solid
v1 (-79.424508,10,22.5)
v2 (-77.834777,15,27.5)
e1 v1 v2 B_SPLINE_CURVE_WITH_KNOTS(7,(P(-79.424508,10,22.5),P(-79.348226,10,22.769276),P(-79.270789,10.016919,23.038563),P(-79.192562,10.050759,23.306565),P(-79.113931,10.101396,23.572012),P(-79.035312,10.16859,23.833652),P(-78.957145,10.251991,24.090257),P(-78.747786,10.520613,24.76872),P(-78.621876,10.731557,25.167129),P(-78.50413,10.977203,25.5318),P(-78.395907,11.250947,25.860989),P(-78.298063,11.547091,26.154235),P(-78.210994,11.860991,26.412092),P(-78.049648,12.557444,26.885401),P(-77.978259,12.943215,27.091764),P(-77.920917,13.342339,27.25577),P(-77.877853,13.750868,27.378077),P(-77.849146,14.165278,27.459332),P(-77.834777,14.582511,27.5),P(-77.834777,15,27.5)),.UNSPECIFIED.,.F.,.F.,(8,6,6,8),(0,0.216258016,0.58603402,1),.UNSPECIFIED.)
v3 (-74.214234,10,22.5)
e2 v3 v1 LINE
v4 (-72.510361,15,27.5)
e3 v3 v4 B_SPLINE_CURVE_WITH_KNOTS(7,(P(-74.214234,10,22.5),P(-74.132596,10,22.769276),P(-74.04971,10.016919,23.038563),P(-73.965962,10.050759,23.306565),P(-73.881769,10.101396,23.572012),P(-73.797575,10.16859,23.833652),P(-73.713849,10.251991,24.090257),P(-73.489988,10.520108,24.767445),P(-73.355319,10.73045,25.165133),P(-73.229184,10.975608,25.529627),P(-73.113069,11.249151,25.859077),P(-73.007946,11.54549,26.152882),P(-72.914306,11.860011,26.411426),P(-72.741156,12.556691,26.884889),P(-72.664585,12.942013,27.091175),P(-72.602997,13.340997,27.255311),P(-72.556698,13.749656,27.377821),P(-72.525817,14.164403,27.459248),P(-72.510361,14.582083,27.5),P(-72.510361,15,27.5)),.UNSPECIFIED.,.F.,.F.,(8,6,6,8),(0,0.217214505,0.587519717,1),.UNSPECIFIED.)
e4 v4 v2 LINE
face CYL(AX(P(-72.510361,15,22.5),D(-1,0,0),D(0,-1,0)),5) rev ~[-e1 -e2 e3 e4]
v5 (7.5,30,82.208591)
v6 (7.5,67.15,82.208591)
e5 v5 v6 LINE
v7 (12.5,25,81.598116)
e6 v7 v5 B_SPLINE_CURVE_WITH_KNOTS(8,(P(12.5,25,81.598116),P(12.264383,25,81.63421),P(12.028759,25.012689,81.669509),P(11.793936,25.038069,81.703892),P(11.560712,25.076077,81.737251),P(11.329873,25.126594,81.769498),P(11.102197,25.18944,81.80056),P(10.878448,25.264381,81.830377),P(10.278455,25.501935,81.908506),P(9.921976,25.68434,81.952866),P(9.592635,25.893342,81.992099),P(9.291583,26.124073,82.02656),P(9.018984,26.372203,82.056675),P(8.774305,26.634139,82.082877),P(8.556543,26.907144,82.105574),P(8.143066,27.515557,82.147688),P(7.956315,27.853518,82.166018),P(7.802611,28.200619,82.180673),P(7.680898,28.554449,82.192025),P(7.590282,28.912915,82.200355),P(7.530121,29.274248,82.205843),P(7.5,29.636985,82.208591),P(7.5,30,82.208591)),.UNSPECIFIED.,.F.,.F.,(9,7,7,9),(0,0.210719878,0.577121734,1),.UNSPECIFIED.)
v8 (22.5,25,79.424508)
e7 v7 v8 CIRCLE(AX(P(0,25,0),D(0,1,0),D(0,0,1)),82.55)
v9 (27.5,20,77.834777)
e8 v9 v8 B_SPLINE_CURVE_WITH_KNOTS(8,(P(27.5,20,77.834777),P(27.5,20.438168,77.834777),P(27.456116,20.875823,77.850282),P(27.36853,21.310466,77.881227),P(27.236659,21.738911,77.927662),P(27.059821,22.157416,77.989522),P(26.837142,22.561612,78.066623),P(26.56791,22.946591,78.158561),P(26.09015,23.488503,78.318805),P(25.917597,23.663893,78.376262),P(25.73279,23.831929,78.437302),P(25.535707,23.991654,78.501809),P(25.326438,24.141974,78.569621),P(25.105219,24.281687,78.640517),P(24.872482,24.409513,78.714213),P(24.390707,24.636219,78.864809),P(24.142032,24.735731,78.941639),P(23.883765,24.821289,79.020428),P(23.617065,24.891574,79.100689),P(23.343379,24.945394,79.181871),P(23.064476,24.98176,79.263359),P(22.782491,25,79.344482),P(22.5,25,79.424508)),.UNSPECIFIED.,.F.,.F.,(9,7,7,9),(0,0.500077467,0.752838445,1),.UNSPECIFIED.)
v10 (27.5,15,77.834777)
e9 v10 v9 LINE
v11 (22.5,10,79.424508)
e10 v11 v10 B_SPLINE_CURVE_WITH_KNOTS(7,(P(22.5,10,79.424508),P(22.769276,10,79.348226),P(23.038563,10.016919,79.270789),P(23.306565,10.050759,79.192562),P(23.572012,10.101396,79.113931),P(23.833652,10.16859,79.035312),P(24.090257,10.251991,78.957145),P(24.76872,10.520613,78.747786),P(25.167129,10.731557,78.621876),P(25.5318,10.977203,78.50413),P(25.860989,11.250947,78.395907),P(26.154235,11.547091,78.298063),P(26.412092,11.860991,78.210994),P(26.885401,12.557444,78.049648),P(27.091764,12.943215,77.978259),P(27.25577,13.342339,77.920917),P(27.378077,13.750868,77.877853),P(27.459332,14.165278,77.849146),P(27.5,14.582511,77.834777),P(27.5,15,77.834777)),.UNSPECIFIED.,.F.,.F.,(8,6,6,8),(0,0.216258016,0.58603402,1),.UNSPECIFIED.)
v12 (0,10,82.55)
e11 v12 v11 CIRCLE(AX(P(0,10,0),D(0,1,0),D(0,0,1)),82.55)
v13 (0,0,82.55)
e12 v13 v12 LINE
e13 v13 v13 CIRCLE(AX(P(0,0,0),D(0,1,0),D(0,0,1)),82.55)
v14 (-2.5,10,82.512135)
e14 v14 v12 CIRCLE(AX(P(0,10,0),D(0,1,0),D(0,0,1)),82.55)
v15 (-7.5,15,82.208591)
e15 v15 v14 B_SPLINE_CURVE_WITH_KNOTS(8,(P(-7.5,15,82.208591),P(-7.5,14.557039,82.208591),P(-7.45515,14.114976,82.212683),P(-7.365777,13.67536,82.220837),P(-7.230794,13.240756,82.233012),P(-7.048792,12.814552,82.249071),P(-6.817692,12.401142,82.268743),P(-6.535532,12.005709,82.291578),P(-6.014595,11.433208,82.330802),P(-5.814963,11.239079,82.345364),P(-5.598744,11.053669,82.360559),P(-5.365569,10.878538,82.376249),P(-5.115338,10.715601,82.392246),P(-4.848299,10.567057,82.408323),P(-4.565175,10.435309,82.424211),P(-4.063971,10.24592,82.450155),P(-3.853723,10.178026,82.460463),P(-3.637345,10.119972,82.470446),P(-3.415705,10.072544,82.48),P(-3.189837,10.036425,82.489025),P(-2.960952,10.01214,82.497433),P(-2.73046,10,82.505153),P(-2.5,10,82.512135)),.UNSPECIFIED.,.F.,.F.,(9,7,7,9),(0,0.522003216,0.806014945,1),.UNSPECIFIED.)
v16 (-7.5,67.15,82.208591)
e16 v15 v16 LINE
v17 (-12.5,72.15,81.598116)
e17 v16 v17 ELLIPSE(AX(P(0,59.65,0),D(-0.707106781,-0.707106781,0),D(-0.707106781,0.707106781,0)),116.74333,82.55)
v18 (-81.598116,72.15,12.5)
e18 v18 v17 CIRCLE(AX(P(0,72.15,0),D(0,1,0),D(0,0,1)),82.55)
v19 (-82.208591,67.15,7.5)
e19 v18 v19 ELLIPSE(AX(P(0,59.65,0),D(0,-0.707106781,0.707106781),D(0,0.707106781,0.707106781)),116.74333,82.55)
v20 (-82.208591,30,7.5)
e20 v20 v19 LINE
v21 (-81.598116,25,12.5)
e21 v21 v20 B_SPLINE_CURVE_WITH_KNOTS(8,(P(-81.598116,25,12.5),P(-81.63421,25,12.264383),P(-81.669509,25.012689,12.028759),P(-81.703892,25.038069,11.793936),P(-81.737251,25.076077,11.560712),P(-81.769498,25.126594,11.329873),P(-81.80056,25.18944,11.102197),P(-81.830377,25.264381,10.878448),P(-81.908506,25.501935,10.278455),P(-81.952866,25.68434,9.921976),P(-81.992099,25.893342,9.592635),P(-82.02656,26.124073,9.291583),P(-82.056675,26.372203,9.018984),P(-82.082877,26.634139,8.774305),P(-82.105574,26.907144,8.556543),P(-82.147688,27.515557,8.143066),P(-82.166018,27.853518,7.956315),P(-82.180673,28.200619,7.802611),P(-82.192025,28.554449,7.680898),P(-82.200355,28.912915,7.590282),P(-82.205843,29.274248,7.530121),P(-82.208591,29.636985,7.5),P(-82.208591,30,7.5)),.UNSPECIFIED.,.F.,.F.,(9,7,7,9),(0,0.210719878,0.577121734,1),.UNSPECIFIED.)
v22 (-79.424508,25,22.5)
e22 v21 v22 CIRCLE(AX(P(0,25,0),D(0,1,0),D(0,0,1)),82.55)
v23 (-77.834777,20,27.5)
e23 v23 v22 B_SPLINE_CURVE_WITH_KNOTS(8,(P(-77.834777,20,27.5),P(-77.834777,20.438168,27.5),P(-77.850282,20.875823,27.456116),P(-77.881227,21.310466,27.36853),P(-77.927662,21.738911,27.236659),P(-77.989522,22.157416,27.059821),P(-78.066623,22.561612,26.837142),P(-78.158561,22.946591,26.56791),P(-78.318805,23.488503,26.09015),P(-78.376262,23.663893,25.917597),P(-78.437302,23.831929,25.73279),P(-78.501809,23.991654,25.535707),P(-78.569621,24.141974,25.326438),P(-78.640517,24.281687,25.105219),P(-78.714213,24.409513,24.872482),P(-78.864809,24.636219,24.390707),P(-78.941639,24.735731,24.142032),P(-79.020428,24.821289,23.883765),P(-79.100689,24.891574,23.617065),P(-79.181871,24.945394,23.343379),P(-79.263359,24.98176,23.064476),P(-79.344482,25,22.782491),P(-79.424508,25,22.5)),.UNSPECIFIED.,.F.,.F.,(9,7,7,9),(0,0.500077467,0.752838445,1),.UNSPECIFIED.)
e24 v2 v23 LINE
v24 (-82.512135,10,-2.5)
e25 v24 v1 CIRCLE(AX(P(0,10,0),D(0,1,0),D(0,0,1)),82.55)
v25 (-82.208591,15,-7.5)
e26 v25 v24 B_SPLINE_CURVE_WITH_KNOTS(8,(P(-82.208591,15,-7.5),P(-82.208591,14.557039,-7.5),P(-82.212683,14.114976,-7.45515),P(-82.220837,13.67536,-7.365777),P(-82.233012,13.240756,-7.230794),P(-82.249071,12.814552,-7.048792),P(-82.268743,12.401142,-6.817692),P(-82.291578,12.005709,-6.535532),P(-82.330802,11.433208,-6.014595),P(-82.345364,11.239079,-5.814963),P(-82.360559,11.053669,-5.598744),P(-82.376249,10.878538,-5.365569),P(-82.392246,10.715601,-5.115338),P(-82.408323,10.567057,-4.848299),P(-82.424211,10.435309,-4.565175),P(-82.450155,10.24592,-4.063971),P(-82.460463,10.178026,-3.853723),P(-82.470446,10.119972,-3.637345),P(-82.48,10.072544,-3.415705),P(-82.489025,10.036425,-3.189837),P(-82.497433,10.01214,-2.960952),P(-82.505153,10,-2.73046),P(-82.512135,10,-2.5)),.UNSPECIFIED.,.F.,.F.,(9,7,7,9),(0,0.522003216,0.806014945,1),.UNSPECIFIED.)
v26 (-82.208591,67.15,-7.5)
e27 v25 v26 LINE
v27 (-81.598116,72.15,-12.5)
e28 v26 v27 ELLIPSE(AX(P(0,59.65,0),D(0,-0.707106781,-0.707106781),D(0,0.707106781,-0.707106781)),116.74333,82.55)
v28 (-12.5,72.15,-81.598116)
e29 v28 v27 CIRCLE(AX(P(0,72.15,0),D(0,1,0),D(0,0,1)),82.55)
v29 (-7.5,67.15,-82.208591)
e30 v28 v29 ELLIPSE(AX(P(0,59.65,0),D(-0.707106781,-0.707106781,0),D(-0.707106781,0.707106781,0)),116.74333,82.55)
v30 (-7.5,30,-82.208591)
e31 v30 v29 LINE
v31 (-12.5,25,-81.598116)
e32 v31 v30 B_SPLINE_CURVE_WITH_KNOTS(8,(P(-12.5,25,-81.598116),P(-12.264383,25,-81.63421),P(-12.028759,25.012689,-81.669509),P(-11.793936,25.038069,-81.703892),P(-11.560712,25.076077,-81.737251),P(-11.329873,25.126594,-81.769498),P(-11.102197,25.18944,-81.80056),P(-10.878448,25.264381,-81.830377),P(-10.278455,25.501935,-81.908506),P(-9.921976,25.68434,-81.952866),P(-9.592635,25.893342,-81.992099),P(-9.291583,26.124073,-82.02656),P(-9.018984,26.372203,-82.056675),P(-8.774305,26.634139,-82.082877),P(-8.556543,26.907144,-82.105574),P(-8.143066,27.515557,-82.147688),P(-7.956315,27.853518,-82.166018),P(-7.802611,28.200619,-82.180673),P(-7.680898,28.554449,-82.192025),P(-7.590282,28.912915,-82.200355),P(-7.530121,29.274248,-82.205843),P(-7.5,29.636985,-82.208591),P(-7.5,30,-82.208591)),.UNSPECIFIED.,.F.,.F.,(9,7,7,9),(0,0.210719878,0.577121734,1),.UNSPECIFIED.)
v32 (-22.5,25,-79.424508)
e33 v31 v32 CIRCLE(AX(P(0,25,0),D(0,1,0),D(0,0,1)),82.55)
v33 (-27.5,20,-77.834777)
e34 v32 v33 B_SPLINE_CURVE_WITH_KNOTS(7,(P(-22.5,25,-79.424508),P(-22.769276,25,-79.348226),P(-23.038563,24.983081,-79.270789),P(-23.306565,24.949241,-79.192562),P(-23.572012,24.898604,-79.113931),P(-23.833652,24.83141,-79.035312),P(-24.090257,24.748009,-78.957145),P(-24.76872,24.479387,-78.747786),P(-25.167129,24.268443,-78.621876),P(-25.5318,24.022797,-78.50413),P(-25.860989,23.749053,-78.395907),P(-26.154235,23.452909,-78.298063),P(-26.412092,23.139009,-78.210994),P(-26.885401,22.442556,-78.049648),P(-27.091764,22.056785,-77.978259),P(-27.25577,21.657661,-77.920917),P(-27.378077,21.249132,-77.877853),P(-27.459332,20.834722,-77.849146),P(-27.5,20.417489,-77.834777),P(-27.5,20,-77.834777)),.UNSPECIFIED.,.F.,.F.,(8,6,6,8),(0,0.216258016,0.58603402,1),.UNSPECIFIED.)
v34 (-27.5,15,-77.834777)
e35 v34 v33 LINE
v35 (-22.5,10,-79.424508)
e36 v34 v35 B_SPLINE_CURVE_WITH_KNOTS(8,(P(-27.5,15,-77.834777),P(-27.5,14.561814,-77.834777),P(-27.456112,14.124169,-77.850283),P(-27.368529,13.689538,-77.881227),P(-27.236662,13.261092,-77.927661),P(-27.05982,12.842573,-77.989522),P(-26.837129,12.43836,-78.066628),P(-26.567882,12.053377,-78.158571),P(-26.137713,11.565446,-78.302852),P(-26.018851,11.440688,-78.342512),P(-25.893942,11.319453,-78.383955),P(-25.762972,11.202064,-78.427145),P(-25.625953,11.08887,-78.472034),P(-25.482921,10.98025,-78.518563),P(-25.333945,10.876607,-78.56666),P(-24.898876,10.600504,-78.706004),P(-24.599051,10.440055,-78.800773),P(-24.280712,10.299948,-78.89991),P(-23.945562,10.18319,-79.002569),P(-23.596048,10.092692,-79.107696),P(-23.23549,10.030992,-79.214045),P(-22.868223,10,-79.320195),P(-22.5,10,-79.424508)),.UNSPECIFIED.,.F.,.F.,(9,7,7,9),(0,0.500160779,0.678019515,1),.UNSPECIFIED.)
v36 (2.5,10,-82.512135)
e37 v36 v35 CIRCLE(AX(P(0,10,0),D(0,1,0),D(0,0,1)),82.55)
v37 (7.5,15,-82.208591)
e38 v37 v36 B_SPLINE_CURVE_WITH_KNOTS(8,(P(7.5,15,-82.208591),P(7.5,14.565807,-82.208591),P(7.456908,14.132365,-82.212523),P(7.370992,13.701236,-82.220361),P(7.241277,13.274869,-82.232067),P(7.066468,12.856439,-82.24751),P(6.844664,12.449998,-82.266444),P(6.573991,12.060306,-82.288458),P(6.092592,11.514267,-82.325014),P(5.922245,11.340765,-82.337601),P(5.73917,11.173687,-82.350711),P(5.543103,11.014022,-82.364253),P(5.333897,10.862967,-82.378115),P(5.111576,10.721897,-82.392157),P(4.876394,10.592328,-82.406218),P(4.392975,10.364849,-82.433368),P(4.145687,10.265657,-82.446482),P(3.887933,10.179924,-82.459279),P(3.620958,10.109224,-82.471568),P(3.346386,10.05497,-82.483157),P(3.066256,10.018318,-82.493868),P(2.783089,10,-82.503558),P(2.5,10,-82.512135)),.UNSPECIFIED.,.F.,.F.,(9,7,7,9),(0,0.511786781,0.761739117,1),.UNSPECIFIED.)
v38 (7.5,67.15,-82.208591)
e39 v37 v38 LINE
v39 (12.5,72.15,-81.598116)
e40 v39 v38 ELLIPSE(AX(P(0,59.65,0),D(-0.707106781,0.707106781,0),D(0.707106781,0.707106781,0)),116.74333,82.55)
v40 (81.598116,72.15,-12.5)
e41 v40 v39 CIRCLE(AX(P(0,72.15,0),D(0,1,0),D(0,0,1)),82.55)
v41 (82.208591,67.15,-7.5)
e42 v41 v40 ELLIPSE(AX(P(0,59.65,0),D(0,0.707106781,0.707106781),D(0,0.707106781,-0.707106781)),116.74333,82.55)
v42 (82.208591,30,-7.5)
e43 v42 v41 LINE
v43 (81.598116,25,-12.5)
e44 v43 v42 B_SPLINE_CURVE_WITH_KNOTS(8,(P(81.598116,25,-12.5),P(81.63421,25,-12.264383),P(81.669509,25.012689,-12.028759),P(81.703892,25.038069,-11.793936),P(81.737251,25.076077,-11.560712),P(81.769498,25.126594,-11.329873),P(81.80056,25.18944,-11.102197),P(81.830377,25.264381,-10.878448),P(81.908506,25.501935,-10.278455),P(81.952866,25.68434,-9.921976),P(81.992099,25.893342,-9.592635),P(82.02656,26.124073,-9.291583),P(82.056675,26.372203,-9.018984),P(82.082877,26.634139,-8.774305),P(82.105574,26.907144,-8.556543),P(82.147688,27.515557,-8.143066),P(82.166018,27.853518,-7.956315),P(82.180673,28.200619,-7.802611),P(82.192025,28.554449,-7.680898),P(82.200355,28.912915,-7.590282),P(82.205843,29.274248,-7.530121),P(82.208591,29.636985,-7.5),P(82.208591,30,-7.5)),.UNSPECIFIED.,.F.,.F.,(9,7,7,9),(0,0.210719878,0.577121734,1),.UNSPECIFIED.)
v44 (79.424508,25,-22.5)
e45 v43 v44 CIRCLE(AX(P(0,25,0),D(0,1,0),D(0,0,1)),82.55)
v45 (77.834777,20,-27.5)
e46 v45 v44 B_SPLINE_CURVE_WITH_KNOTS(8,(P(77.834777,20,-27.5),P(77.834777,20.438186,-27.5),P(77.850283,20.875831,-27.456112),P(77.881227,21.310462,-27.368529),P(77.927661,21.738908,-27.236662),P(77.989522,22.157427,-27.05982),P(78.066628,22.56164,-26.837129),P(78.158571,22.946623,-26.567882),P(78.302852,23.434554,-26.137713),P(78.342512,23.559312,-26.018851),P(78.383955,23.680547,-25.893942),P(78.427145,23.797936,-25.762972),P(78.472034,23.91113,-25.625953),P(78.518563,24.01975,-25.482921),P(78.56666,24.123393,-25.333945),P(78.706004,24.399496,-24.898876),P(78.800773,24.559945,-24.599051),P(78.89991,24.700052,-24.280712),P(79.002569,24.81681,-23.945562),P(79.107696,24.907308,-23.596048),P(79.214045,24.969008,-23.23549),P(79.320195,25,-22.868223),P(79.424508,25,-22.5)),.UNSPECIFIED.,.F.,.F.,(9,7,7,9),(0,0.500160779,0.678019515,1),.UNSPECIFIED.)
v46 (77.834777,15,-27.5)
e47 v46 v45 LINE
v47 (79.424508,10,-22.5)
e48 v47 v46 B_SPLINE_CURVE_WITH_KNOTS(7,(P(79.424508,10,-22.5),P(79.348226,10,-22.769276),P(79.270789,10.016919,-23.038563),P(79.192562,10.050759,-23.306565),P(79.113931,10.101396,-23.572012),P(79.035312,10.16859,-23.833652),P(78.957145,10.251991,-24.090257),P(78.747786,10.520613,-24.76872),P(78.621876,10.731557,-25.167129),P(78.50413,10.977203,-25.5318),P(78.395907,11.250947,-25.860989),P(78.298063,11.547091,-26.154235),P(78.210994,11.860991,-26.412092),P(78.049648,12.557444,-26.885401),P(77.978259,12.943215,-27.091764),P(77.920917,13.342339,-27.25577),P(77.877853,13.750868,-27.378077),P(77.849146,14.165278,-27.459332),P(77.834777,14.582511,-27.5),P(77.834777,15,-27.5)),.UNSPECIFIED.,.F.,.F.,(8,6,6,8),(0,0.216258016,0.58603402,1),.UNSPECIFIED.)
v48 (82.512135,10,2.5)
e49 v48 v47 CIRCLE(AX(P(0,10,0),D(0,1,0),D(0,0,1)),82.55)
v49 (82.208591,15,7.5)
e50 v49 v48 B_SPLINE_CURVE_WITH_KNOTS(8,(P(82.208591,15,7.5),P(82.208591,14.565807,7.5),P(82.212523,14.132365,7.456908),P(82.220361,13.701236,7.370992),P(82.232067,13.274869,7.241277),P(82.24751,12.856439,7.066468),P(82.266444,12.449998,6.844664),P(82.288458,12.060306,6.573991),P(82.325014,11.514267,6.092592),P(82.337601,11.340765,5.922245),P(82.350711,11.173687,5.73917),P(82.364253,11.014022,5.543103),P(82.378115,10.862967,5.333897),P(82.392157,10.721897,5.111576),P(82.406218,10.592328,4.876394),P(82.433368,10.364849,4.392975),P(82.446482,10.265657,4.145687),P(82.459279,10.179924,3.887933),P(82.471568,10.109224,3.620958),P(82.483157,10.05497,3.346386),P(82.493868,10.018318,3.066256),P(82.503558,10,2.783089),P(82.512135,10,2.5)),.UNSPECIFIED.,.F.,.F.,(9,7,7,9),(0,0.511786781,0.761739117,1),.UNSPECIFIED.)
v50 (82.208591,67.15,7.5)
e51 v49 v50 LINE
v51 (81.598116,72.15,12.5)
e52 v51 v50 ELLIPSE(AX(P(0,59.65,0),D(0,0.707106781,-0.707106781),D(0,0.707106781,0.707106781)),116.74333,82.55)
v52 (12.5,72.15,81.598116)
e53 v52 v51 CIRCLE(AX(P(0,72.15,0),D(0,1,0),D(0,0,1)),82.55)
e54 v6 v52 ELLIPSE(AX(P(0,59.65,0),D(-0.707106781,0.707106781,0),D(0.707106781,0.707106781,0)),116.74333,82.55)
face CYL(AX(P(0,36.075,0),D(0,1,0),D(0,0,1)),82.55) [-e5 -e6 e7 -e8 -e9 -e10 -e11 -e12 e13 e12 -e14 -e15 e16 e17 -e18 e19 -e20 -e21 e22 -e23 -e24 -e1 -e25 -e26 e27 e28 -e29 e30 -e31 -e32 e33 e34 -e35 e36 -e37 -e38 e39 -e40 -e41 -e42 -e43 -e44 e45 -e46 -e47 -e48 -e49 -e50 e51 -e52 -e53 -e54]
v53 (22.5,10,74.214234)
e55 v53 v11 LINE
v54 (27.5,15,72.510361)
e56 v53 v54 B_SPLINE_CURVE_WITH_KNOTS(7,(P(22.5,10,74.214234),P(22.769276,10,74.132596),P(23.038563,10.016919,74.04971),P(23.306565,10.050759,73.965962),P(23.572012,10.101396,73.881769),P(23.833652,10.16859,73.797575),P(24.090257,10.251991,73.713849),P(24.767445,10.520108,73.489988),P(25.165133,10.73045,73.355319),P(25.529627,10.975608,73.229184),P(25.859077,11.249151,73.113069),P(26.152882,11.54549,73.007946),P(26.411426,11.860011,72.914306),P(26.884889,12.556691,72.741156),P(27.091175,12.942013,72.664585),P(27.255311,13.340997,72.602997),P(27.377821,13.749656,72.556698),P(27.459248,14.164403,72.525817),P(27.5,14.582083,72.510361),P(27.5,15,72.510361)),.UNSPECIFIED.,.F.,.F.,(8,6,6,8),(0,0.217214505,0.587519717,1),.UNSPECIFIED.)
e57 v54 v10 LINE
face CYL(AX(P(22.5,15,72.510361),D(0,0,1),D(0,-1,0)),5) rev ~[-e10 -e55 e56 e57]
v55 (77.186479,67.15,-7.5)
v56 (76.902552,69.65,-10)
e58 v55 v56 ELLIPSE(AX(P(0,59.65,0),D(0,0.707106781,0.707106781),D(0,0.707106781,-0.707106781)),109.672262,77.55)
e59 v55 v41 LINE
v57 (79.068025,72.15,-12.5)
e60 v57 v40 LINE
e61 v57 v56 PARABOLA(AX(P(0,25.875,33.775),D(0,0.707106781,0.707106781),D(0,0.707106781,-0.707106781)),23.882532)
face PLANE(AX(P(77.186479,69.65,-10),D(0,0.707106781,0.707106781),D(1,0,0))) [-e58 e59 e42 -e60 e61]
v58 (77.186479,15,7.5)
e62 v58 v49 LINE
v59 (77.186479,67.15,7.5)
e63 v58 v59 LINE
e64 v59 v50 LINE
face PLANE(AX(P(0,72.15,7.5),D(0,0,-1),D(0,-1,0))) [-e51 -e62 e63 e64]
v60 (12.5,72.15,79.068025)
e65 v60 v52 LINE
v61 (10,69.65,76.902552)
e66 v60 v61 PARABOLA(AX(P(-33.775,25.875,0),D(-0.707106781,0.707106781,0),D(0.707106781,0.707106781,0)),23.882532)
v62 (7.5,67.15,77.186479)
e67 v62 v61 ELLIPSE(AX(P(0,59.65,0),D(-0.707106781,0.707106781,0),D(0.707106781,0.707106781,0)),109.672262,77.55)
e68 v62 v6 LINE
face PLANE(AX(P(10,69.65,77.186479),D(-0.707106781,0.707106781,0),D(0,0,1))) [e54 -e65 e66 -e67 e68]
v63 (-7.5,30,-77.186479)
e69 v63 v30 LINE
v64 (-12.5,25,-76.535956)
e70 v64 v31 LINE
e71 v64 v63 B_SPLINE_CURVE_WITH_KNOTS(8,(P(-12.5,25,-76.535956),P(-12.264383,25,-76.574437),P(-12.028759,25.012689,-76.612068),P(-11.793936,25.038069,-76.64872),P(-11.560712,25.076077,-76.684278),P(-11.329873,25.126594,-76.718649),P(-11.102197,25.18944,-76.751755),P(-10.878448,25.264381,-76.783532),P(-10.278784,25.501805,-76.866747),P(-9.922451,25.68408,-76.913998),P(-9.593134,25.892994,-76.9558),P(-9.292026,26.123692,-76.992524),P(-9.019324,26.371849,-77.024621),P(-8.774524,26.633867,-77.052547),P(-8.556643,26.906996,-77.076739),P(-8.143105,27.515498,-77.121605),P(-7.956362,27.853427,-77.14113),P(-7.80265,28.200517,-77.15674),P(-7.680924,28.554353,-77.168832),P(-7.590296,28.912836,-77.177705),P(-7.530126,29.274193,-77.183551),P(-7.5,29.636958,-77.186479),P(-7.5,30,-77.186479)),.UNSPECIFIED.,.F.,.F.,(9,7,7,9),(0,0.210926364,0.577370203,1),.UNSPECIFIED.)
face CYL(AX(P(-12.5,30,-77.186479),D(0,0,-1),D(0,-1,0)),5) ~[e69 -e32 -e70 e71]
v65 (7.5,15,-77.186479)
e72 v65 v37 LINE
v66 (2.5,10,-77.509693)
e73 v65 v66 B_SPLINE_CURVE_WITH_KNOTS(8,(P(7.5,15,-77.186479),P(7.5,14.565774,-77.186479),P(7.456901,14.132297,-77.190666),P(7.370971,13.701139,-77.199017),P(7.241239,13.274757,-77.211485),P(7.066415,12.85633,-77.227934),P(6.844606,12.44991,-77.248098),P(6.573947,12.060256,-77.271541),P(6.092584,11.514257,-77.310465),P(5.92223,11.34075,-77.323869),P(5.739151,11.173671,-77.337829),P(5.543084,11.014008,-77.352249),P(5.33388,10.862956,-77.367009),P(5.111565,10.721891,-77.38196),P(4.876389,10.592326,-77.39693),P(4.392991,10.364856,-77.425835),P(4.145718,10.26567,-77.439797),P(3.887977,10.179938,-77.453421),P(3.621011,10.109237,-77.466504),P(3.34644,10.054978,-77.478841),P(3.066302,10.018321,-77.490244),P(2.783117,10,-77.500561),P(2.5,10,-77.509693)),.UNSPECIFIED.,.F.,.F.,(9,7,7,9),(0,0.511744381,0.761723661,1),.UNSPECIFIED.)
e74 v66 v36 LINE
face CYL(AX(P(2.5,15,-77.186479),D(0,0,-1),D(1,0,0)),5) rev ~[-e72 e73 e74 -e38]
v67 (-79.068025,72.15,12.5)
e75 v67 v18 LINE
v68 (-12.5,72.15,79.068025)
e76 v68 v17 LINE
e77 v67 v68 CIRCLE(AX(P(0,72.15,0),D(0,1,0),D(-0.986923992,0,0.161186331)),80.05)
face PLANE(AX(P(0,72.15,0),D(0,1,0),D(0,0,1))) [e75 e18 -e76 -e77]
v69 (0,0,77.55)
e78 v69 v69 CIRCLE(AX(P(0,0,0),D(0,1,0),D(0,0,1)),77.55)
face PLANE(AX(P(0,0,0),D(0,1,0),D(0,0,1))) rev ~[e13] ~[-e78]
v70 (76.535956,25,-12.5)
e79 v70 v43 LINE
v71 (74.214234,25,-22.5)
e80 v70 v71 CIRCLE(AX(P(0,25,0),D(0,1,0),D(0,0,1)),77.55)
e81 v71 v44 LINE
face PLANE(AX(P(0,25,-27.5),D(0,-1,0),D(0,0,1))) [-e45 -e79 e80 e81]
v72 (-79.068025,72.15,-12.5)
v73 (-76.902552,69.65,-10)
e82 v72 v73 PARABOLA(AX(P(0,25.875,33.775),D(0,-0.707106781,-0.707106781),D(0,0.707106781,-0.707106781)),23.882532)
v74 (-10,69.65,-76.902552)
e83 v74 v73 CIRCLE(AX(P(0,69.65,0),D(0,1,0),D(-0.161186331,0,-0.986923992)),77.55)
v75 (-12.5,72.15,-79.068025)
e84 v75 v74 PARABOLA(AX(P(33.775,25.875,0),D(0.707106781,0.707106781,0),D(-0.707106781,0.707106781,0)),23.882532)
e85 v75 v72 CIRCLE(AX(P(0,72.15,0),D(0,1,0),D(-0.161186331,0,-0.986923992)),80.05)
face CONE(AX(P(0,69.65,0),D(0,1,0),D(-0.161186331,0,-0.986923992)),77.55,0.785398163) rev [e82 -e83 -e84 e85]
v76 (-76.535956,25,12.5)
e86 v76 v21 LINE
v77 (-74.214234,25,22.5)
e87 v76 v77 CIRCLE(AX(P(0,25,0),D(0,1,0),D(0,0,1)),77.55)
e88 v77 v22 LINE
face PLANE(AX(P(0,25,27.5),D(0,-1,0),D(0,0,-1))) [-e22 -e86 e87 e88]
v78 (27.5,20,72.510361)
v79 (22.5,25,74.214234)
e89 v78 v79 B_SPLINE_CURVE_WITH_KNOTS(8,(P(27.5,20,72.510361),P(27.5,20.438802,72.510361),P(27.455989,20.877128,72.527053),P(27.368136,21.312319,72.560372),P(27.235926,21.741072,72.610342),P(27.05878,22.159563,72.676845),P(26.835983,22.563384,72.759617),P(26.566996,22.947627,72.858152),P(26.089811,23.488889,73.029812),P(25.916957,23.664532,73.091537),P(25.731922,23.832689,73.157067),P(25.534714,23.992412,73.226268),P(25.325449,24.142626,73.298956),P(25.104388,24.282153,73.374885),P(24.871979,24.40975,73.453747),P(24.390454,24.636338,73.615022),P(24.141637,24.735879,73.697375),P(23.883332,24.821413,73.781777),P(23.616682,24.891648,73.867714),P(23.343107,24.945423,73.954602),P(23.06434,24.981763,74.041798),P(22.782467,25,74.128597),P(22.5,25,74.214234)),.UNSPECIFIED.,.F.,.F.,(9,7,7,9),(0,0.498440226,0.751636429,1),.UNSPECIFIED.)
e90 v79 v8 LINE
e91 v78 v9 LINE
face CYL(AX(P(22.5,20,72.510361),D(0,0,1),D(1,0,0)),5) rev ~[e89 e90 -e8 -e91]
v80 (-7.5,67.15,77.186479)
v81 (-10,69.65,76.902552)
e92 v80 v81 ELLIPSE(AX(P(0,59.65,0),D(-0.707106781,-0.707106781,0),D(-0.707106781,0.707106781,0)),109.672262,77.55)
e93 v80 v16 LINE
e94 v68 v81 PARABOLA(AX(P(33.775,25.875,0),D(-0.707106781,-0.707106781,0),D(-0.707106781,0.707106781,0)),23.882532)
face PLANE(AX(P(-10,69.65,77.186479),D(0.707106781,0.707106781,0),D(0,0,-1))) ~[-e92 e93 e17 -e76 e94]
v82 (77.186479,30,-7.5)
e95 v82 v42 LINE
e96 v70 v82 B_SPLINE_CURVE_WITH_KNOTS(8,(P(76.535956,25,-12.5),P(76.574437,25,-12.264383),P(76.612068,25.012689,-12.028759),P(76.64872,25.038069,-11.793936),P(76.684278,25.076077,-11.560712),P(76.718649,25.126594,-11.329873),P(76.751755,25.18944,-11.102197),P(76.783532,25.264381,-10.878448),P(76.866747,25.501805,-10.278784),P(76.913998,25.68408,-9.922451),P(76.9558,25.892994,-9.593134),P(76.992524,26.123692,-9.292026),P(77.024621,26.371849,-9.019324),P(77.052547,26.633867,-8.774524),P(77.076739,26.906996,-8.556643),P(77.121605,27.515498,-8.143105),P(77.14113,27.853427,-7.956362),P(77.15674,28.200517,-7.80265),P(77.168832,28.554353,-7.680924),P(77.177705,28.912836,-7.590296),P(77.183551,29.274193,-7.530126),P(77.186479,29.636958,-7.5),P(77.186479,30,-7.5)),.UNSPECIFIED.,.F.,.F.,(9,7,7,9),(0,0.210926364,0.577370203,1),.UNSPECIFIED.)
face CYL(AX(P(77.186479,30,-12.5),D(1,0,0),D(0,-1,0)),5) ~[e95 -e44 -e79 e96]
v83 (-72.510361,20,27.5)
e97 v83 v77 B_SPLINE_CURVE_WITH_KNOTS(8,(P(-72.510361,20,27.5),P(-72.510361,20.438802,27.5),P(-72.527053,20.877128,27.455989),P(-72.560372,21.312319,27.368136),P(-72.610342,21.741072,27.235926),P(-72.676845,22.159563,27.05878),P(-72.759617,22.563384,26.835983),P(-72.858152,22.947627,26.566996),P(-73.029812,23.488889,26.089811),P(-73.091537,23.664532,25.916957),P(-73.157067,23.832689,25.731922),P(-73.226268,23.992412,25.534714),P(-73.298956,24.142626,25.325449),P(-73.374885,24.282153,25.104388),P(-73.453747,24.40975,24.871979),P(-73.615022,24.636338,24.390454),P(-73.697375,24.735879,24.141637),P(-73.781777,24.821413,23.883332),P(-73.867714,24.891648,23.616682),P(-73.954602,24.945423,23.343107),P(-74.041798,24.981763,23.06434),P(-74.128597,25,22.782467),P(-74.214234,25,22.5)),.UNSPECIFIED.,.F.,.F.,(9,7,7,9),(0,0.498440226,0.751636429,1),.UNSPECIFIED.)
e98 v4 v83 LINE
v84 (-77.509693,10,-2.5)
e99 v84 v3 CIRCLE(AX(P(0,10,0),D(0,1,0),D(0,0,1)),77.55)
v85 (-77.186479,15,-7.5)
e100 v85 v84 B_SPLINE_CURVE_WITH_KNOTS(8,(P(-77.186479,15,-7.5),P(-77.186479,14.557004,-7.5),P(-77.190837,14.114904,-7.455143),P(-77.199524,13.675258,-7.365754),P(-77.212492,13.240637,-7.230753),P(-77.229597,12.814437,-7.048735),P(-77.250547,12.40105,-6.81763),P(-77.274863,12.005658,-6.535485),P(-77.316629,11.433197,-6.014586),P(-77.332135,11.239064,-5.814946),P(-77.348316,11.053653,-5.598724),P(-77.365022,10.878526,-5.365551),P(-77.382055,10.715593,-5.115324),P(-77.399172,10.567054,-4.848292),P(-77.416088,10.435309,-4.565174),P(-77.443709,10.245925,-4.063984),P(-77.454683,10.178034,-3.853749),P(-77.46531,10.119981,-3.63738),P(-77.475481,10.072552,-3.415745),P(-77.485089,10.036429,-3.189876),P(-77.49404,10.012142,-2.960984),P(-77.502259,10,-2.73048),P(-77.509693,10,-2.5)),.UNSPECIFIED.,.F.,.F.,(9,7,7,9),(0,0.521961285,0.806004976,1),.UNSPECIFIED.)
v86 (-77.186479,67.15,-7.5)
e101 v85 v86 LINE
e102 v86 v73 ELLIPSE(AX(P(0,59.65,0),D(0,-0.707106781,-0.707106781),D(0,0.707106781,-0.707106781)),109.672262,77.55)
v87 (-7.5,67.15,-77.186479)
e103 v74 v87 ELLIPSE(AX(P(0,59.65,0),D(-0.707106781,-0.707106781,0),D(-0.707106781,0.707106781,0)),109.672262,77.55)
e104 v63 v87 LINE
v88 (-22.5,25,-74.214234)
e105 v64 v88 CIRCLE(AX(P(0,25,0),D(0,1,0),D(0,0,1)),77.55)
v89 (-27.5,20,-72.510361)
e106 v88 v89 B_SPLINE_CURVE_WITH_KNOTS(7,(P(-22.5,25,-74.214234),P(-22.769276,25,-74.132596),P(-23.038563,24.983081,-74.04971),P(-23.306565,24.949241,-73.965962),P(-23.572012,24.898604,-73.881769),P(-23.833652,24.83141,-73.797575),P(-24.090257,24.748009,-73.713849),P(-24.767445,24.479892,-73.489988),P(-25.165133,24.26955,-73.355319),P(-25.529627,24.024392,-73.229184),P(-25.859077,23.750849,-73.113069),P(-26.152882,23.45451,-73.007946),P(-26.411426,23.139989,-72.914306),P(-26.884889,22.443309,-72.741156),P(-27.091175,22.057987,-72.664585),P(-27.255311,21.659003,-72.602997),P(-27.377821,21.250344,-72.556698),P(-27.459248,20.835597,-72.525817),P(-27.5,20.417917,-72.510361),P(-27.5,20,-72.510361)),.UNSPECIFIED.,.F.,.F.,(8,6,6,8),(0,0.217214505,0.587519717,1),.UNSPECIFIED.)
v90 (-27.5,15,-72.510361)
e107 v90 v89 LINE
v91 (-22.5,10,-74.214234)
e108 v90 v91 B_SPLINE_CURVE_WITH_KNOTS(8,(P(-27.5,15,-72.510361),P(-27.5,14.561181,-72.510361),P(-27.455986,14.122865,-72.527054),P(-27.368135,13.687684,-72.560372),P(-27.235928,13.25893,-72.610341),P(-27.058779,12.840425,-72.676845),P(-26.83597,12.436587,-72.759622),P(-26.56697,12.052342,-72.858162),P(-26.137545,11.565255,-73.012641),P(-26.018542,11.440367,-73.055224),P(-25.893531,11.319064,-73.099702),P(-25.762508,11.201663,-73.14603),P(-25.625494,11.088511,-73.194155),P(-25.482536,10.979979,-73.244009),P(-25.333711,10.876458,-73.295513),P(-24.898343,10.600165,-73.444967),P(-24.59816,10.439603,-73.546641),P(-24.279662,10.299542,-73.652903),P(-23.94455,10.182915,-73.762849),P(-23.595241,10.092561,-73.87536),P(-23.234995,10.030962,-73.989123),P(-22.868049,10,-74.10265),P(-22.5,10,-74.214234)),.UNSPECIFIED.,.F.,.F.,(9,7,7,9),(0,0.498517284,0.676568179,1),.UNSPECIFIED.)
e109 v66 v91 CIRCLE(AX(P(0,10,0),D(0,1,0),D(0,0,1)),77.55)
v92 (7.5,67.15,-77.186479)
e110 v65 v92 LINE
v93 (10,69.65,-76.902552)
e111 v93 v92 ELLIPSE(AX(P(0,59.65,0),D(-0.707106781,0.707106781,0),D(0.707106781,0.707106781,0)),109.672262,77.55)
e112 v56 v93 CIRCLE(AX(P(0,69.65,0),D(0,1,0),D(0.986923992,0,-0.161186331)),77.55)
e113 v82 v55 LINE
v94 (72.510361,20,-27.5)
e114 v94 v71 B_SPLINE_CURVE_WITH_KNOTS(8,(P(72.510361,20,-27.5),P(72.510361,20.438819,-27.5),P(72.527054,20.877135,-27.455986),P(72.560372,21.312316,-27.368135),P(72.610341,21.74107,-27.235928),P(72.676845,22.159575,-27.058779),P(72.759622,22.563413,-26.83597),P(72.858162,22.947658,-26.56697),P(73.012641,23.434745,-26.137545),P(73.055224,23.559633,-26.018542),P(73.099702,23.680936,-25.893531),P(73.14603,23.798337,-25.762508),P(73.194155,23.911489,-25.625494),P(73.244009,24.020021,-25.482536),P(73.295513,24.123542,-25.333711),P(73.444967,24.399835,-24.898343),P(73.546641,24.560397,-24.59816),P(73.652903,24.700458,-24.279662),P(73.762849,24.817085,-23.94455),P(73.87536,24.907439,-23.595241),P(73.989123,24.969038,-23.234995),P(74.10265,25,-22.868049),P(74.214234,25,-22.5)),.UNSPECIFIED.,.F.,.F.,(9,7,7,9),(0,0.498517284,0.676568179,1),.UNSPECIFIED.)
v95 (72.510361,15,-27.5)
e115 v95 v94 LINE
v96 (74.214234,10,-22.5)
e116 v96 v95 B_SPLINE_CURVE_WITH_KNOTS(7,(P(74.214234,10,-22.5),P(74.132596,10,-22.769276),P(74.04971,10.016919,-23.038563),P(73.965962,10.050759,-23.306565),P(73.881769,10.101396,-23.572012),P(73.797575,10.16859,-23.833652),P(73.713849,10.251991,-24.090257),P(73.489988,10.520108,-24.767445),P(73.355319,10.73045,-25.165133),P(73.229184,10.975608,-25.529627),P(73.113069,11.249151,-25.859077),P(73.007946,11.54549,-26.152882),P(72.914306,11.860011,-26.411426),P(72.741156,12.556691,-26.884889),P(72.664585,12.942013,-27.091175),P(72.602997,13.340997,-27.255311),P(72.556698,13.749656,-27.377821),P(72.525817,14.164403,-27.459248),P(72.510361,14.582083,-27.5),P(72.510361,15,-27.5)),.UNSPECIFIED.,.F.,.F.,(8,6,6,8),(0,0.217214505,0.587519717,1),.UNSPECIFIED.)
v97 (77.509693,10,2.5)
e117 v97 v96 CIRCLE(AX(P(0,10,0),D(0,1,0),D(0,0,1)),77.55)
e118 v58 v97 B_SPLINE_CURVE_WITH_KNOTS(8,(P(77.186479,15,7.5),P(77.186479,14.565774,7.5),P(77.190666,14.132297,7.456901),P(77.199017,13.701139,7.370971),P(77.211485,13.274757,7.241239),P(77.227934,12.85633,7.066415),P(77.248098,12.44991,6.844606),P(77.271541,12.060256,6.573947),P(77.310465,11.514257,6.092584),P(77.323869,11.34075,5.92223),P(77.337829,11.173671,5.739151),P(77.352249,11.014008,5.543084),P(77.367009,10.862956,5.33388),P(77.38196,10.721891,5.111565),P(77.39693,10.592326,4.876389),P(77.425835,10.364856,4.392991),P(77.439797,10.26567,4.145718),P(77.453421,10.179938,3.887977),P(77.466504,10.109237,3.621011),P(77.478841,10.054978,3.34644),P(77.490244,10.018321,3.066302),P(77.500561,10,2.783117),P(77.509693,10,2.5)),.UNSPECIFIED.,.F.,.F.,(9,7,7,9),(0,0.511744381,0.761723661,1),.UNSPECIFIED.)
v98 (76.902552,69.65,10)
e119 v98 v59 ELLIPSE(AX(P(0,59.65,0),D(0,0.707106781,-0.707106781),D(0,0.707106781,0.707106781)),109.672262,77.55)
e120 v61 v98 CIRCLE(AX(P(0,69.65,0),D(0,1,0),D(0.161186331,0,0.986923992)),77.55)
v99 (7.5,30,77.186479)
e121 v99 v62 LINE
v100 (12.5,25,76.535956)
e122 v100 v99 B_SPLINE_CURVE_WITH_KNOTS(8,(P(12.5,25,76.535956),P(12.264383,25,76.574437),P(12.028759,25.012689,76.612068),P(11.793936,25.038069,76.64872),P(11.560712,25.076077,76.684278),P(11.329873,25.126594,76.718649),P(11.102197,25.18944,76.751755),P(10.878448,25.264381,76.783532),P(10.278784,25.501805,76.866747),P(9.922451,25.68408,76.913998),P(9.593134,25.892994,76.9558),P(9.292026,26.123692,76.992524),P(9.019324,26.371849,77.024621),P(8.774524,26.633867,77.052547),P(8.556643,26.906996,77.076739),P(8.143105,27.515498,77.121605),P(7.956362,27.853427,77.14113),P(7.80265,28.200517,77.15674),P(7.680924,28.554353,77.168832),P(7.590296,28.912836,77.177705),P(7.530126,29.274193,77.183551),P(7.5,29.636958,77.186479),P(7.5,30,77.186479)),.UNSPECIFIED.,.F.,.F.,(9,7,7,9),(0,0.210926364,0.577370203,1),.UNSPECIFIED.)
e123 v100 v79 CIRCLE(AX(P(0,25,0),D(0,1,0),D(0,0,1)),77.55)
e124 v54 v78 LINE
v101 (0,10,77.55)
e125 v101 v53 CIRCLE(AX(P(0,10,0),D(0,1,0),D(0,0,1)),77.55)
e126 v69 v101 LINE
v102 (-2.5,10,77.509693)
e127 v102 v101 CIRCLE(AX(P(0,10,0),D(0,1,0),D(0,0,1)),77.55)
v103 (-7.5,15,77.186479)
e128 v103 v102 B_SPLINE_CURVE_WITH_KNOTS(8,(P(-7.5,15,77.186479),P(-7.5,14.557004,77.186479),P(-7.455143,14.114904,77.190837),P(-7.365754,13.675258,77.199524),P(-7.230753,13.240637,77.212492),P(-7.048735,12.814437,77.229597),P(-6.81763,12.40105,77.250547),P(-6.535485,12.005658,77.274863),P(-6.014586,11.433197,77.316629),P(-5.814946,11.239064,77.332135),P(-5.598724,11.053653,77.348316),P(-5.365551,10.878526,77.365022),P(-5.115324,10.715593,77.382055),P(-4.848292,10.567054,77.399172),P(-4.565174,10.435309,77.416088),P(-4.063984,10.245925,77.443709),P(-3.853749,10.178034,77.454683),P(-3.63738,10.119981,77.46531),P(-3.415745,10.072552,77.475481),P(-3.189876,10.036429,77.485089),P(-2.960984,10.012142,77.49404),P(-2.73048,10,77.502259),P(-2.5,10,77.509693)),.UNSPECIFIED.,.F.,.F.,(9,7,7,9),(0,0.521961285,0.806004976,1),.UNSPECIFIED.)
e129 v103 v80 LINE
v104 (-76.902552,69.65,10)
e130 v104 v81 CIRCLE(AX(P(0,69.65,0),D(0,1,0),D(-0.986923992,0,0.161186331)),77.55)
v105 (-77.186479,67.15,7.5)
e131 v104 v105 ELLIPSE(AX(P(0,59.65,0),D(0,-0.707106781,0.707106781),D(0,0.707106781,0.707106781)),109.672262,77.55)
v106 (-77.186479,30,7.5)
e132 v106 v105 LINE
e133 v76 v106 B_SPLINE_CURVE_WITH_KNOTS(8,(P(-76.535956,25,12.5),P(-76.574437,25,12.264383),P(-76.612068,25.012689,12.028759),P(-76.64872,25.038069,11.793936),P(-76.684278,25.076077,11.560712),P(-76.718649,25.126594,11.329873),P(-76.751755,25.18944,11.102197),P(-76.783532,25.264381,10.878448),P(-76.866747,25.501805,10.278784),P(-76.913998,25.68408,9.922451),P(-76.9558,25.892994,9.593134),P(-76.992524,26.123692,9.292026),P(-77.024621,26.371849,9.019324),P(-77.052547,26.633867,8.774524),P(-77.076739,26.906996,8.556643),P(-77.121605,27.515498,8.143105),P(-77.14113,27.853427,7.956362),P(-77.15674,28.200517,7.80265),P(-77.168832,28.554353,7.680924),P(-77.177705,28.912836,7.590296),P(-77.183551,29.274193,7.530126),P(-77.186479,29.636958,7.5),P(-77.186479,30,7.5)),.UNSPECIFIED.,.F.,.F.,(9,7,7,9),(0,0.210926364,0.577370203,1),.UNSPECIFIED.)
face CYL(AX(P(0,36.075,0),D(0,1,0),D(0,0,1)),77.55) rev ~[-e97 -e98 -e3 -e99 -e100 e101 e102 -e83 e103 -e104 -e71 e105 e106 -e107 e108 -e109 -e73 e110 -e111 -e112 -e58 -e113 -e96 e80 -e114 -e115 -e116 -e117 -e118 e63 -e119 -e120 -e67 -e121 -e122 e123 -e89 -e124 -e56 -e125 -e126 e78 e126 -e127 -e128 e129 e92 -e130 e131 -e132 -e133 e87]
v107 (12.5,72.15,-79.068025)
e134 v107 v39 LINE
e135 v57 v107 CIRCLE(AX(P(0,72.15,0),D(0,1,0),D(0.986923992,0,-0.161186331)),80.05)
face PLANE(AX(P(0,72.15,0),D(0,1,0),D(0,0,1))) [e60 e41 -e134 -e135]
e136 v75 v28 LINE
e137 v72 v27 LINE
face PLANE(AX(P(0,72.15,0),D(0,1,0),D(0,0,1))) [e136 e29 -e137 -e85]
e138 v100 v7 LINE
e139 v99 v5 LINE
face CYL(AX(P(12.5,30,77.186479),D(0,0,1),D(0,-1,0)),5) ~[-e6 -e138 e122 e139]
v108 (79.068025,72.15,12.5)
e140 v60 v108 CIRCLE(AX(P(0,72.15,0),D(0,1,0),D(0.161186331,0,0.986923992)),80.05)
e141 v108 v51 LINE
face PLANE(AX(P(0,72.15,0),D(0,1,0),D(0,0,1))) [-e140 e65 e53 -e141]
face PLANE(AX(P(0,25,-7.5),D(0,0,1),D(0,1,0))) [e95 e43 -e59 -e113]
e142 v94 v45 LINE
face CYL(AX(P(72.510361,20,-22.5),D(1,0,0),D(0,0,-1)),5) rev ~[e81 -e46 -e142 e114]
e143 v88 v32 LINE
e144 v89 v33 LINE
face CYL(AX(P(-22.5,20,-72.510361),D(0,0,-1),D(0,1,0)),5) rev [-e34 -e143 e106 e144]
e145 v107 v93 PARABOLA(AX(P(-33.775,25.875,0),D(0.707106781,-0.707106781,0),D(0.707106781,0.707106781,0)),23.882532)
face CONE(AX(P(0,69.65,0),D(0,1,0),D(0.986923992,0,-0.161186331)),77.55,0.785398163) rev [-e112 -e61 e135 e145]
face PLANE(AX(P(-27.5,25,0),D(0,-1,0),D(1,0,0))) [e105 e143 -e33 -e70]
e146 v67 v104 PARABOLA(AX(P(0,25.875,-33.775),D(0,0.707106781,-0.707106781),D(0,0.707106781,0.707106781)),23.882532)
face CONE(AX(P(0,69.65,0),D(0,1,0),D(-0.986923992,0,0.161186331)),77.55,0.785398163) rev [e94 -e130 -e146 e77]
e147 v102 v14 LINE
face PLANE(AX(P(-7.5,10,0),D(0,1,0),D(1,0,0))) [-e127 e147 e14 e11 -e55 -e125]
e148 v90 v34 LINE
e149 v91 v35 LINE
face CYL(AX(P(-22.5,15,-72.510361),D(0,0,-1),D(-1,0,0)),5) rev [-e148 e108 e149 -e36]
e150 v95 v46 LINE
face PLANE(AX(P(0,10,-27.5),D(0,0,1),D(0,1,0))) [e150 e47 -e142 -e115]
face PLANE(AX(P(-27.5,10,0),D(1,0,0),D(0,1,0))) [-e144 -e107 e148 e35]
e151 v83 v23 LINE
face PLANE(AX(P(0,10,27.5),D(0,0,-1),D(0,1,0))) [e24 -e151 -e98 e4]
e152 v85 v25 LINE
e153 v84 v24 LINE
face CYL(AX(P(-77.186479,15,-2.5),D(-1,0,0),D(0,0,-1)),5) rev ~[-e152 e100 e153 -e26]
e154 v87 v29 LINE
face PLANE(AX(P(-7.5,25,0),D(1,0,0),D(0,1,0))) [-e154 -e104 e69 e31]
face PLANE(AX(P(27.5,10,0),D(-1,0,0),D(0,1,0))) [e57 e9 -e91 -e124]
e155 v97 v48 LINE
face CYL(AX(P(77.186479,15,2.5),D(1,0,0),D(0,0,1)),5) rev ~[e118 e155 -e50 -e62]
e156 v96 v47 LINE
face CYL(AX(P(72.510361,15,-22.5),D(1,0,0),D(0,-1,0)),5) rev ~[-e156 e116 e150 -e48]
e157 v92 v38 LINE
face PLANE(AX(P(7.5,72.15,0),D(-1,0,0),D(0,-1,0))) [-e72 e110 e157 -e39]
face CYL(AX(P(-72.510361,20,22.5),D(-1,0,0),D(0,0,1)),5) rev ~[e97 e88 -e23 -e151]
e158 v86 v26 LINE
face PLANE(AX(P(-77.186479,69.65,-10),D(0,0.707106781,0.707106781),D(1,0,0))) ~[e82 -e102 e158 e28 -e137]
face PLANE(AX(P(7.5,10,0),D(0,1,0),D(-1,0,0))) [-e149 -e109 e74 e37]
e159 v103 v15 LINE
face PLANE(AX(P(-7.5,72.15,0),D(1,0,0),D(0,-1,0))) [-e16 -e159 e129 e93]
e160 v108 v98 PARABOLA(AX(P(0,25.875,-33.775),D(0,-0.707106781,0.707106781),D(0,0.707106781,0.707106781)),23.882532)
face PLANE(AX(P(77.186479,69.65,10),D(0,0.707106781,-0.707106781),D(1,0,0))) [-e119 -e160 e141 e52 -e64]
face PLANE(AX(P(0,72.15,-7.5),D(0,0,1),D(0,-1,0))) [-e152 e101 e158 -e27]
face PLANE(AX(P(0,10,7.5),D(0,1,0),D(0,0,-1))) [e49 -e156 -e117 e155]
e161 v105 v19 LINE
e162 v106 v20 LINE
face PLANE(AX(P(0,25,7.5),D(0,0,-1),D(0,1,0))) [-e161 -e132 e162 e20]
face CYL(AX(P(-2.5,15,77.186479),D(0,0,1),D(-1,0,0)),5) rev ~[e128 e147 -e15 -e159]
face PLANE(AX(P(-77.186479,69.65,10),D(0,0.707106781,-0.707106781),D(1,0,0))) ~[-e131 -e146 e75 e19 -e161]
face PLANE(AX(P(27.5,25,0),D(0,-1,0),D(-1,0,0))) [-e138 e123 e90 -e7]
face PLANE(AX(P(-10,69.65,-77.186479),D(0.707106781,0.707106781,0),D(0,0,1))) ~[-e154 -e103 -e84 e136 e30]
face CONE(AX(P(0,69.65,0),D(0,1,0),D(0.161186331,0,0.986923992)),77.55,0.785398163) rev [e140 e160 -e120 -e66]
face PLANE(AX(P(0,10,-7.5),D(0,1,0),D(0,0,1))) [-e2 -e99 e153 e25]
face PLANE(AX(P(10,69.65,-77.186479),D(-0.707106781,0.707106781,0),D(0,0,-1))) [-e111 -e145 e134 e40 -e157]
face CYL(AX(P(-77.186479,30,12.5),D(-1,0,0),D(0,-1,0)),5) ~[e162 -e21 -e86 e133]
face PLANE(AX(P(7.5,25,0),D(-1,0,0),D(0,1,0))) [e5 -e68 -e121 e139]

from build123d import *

# Parameters (mm, degrees)
SKETCH2_W                    = 5
SKETCH2_H                    = 72.15
CUT_EXTRUDE1_DEPTH           = 83.55
FILLET1_R                    = 5
CHAMFER1_SIZE                = 5
FILLET3_R                    = 5
CIRPATTERN1_COUNT            = 4
FILLET1_OF_CIRPATTERN1_R     = 5
CHAMFER1_OF_CIRPATTERN1_SIZE = 5
FILLET3_OF_CIRPATTERN1_R     = 5
CHAMFER2_SIZE                = 2.5


with BuildPart() as part:
    # Sketch2 → Revolve1 (revolve)
    with BuildSketch(Plane(origin=(0, 0, 0), x_dir=(0, 0, -1), z_dir=(1, 0, 0))):
        with Locations((-80.05, 36.075)):
            Rectangle(SKETCH2_W, SKETCH2_H)
    revolve(axis=Axis((0, -3.6075, 0), (0, 1, 0)))

    # Sketch3 → Cut-Extrude1 (cut, through all)
    with BuildSketch(Plane(origin=(0, 0, 0), x_dir=(0, 0, -1), z_dir=(1, 0, 0))):
        Polygon((-7.5, 72.15), (7.5, 72.15), (7.5, 10), (-27.5, 10), (-27.5, 25), (-7.5, 25), align=None)
    cut_extrude1 = extrude(amount=-CUT_EXTRUDE1_DEPTH, mode=Mode.SUBTRACT)

    # Fillet1
    fillet1_edges = [part.edges().sort_by_distance(p)[0] for p in [
        (-79.697535069, 10, -7.5),
        (-79.697535069, 25, 7.5),
    ]]
    fillet(fillet1_edges, radius=FILLET1_R)

    # Chamfer1
    chamfer1_edges = [part.edges().sort_by_distance(p)[0] for p in [
        (-79.697535069, 72.15, -7.5),
        (-79.697535069, 72.15, 7.5),
    ]]
    chamfer(chamfer1_edges, length=CHAMFER1_SIZE)

    # Fillet3
    fillet3_edges = [part.edges().sort_by_distance(p)[0] for p in [
        (-75.17256913, 10, 27.5),
        (-75.17256913, 25, 27.5),
    ]]
    fillet(fillet3_edges, radius=FILLET3_R)

    # CirPattern1: Cut-Extrude1 ×4 about axis
    cirpattern1_axis = Axis((0, 0, 0), (0, 1, 0))
    for i in range(1, CIRPATTERN1_COUNT):
        add(cut_extrude1.rotate(cirpattern1_axis, i * 360 / CIRPATTERN1_COUNT), mode=Mode.SUBTRACT)

    # Fillet1 of CirPattern1
    fillet1_of_cirpattern1_edges = [part.edges().sort_by_distance(p)[0] for p in [
        (-7.5, 10, 79.697535069),
        (7.5, 25, 79.697535069),
        (79.697535069, 10, 7.5),
        (79.697535069, 25, -7.5),
        (7.5, 10, -79.697535069),
        (-7.5, 25, -79.697535069),
    ]]
    fillet(fillet1_of_cirpattern1_edges, radius=FILLET1_OF_CIRPATTERN1_R)

    # Chamfer1 of CirPattern1
    chamfer1_of_cirpattern1_edges = [part.edges().sort_by_distance(p)[0] for p in [
        (-7.5, 72.15, 79.697535069),
        (7.5, 72.15, 79.697535069),
        (79.697535069, 72.15, 7.5),
        (79.697535069, 72.15, -7.5),
        (7.5, 72.15, -79.697535069),
        (-7.5, 72.15, -79.697535069),
    ]]
    chamfer(chamfer1_of_cirpattern1_edges, length=CHAMFER1_OF_CIRPATTERN1_SIZE)

    # Fillet3 of CirPattern1
    fillet3_of_cirpattern1_edges = [part.edges().sort_by_distance(p)[0] for p in [
        (27.5, 10, 75.17256913),
        (27.5, 25, 75.17256913),
        (75.17256913, 10, -27.5),
        (75.17256913, 25, -27.5),
        (-27.5, 10, -75.17256913),
        (-27.5, 25, -75.17256913),
    ]]
    fillet(fillet3_of_cirpattern1_edges, radius=FILLET3_OF_CIRPATTERN1_R)

    # Chamfer2
    chamfer2_edges = [part.edges().sort_by_distance(p)[0] for p in [
        (-54.836130881, 72.15, -54.836130881),
        (54.836130881, 72.15, -54.836130881),
        (54.836130881, 72.15, 54.836130881),
        (-54.836130881, 72.15, 54.836130881),
    ]]
    chamfer(chamfer2_edges, length=CHAMFER2_SIZE)


solid = part.part
